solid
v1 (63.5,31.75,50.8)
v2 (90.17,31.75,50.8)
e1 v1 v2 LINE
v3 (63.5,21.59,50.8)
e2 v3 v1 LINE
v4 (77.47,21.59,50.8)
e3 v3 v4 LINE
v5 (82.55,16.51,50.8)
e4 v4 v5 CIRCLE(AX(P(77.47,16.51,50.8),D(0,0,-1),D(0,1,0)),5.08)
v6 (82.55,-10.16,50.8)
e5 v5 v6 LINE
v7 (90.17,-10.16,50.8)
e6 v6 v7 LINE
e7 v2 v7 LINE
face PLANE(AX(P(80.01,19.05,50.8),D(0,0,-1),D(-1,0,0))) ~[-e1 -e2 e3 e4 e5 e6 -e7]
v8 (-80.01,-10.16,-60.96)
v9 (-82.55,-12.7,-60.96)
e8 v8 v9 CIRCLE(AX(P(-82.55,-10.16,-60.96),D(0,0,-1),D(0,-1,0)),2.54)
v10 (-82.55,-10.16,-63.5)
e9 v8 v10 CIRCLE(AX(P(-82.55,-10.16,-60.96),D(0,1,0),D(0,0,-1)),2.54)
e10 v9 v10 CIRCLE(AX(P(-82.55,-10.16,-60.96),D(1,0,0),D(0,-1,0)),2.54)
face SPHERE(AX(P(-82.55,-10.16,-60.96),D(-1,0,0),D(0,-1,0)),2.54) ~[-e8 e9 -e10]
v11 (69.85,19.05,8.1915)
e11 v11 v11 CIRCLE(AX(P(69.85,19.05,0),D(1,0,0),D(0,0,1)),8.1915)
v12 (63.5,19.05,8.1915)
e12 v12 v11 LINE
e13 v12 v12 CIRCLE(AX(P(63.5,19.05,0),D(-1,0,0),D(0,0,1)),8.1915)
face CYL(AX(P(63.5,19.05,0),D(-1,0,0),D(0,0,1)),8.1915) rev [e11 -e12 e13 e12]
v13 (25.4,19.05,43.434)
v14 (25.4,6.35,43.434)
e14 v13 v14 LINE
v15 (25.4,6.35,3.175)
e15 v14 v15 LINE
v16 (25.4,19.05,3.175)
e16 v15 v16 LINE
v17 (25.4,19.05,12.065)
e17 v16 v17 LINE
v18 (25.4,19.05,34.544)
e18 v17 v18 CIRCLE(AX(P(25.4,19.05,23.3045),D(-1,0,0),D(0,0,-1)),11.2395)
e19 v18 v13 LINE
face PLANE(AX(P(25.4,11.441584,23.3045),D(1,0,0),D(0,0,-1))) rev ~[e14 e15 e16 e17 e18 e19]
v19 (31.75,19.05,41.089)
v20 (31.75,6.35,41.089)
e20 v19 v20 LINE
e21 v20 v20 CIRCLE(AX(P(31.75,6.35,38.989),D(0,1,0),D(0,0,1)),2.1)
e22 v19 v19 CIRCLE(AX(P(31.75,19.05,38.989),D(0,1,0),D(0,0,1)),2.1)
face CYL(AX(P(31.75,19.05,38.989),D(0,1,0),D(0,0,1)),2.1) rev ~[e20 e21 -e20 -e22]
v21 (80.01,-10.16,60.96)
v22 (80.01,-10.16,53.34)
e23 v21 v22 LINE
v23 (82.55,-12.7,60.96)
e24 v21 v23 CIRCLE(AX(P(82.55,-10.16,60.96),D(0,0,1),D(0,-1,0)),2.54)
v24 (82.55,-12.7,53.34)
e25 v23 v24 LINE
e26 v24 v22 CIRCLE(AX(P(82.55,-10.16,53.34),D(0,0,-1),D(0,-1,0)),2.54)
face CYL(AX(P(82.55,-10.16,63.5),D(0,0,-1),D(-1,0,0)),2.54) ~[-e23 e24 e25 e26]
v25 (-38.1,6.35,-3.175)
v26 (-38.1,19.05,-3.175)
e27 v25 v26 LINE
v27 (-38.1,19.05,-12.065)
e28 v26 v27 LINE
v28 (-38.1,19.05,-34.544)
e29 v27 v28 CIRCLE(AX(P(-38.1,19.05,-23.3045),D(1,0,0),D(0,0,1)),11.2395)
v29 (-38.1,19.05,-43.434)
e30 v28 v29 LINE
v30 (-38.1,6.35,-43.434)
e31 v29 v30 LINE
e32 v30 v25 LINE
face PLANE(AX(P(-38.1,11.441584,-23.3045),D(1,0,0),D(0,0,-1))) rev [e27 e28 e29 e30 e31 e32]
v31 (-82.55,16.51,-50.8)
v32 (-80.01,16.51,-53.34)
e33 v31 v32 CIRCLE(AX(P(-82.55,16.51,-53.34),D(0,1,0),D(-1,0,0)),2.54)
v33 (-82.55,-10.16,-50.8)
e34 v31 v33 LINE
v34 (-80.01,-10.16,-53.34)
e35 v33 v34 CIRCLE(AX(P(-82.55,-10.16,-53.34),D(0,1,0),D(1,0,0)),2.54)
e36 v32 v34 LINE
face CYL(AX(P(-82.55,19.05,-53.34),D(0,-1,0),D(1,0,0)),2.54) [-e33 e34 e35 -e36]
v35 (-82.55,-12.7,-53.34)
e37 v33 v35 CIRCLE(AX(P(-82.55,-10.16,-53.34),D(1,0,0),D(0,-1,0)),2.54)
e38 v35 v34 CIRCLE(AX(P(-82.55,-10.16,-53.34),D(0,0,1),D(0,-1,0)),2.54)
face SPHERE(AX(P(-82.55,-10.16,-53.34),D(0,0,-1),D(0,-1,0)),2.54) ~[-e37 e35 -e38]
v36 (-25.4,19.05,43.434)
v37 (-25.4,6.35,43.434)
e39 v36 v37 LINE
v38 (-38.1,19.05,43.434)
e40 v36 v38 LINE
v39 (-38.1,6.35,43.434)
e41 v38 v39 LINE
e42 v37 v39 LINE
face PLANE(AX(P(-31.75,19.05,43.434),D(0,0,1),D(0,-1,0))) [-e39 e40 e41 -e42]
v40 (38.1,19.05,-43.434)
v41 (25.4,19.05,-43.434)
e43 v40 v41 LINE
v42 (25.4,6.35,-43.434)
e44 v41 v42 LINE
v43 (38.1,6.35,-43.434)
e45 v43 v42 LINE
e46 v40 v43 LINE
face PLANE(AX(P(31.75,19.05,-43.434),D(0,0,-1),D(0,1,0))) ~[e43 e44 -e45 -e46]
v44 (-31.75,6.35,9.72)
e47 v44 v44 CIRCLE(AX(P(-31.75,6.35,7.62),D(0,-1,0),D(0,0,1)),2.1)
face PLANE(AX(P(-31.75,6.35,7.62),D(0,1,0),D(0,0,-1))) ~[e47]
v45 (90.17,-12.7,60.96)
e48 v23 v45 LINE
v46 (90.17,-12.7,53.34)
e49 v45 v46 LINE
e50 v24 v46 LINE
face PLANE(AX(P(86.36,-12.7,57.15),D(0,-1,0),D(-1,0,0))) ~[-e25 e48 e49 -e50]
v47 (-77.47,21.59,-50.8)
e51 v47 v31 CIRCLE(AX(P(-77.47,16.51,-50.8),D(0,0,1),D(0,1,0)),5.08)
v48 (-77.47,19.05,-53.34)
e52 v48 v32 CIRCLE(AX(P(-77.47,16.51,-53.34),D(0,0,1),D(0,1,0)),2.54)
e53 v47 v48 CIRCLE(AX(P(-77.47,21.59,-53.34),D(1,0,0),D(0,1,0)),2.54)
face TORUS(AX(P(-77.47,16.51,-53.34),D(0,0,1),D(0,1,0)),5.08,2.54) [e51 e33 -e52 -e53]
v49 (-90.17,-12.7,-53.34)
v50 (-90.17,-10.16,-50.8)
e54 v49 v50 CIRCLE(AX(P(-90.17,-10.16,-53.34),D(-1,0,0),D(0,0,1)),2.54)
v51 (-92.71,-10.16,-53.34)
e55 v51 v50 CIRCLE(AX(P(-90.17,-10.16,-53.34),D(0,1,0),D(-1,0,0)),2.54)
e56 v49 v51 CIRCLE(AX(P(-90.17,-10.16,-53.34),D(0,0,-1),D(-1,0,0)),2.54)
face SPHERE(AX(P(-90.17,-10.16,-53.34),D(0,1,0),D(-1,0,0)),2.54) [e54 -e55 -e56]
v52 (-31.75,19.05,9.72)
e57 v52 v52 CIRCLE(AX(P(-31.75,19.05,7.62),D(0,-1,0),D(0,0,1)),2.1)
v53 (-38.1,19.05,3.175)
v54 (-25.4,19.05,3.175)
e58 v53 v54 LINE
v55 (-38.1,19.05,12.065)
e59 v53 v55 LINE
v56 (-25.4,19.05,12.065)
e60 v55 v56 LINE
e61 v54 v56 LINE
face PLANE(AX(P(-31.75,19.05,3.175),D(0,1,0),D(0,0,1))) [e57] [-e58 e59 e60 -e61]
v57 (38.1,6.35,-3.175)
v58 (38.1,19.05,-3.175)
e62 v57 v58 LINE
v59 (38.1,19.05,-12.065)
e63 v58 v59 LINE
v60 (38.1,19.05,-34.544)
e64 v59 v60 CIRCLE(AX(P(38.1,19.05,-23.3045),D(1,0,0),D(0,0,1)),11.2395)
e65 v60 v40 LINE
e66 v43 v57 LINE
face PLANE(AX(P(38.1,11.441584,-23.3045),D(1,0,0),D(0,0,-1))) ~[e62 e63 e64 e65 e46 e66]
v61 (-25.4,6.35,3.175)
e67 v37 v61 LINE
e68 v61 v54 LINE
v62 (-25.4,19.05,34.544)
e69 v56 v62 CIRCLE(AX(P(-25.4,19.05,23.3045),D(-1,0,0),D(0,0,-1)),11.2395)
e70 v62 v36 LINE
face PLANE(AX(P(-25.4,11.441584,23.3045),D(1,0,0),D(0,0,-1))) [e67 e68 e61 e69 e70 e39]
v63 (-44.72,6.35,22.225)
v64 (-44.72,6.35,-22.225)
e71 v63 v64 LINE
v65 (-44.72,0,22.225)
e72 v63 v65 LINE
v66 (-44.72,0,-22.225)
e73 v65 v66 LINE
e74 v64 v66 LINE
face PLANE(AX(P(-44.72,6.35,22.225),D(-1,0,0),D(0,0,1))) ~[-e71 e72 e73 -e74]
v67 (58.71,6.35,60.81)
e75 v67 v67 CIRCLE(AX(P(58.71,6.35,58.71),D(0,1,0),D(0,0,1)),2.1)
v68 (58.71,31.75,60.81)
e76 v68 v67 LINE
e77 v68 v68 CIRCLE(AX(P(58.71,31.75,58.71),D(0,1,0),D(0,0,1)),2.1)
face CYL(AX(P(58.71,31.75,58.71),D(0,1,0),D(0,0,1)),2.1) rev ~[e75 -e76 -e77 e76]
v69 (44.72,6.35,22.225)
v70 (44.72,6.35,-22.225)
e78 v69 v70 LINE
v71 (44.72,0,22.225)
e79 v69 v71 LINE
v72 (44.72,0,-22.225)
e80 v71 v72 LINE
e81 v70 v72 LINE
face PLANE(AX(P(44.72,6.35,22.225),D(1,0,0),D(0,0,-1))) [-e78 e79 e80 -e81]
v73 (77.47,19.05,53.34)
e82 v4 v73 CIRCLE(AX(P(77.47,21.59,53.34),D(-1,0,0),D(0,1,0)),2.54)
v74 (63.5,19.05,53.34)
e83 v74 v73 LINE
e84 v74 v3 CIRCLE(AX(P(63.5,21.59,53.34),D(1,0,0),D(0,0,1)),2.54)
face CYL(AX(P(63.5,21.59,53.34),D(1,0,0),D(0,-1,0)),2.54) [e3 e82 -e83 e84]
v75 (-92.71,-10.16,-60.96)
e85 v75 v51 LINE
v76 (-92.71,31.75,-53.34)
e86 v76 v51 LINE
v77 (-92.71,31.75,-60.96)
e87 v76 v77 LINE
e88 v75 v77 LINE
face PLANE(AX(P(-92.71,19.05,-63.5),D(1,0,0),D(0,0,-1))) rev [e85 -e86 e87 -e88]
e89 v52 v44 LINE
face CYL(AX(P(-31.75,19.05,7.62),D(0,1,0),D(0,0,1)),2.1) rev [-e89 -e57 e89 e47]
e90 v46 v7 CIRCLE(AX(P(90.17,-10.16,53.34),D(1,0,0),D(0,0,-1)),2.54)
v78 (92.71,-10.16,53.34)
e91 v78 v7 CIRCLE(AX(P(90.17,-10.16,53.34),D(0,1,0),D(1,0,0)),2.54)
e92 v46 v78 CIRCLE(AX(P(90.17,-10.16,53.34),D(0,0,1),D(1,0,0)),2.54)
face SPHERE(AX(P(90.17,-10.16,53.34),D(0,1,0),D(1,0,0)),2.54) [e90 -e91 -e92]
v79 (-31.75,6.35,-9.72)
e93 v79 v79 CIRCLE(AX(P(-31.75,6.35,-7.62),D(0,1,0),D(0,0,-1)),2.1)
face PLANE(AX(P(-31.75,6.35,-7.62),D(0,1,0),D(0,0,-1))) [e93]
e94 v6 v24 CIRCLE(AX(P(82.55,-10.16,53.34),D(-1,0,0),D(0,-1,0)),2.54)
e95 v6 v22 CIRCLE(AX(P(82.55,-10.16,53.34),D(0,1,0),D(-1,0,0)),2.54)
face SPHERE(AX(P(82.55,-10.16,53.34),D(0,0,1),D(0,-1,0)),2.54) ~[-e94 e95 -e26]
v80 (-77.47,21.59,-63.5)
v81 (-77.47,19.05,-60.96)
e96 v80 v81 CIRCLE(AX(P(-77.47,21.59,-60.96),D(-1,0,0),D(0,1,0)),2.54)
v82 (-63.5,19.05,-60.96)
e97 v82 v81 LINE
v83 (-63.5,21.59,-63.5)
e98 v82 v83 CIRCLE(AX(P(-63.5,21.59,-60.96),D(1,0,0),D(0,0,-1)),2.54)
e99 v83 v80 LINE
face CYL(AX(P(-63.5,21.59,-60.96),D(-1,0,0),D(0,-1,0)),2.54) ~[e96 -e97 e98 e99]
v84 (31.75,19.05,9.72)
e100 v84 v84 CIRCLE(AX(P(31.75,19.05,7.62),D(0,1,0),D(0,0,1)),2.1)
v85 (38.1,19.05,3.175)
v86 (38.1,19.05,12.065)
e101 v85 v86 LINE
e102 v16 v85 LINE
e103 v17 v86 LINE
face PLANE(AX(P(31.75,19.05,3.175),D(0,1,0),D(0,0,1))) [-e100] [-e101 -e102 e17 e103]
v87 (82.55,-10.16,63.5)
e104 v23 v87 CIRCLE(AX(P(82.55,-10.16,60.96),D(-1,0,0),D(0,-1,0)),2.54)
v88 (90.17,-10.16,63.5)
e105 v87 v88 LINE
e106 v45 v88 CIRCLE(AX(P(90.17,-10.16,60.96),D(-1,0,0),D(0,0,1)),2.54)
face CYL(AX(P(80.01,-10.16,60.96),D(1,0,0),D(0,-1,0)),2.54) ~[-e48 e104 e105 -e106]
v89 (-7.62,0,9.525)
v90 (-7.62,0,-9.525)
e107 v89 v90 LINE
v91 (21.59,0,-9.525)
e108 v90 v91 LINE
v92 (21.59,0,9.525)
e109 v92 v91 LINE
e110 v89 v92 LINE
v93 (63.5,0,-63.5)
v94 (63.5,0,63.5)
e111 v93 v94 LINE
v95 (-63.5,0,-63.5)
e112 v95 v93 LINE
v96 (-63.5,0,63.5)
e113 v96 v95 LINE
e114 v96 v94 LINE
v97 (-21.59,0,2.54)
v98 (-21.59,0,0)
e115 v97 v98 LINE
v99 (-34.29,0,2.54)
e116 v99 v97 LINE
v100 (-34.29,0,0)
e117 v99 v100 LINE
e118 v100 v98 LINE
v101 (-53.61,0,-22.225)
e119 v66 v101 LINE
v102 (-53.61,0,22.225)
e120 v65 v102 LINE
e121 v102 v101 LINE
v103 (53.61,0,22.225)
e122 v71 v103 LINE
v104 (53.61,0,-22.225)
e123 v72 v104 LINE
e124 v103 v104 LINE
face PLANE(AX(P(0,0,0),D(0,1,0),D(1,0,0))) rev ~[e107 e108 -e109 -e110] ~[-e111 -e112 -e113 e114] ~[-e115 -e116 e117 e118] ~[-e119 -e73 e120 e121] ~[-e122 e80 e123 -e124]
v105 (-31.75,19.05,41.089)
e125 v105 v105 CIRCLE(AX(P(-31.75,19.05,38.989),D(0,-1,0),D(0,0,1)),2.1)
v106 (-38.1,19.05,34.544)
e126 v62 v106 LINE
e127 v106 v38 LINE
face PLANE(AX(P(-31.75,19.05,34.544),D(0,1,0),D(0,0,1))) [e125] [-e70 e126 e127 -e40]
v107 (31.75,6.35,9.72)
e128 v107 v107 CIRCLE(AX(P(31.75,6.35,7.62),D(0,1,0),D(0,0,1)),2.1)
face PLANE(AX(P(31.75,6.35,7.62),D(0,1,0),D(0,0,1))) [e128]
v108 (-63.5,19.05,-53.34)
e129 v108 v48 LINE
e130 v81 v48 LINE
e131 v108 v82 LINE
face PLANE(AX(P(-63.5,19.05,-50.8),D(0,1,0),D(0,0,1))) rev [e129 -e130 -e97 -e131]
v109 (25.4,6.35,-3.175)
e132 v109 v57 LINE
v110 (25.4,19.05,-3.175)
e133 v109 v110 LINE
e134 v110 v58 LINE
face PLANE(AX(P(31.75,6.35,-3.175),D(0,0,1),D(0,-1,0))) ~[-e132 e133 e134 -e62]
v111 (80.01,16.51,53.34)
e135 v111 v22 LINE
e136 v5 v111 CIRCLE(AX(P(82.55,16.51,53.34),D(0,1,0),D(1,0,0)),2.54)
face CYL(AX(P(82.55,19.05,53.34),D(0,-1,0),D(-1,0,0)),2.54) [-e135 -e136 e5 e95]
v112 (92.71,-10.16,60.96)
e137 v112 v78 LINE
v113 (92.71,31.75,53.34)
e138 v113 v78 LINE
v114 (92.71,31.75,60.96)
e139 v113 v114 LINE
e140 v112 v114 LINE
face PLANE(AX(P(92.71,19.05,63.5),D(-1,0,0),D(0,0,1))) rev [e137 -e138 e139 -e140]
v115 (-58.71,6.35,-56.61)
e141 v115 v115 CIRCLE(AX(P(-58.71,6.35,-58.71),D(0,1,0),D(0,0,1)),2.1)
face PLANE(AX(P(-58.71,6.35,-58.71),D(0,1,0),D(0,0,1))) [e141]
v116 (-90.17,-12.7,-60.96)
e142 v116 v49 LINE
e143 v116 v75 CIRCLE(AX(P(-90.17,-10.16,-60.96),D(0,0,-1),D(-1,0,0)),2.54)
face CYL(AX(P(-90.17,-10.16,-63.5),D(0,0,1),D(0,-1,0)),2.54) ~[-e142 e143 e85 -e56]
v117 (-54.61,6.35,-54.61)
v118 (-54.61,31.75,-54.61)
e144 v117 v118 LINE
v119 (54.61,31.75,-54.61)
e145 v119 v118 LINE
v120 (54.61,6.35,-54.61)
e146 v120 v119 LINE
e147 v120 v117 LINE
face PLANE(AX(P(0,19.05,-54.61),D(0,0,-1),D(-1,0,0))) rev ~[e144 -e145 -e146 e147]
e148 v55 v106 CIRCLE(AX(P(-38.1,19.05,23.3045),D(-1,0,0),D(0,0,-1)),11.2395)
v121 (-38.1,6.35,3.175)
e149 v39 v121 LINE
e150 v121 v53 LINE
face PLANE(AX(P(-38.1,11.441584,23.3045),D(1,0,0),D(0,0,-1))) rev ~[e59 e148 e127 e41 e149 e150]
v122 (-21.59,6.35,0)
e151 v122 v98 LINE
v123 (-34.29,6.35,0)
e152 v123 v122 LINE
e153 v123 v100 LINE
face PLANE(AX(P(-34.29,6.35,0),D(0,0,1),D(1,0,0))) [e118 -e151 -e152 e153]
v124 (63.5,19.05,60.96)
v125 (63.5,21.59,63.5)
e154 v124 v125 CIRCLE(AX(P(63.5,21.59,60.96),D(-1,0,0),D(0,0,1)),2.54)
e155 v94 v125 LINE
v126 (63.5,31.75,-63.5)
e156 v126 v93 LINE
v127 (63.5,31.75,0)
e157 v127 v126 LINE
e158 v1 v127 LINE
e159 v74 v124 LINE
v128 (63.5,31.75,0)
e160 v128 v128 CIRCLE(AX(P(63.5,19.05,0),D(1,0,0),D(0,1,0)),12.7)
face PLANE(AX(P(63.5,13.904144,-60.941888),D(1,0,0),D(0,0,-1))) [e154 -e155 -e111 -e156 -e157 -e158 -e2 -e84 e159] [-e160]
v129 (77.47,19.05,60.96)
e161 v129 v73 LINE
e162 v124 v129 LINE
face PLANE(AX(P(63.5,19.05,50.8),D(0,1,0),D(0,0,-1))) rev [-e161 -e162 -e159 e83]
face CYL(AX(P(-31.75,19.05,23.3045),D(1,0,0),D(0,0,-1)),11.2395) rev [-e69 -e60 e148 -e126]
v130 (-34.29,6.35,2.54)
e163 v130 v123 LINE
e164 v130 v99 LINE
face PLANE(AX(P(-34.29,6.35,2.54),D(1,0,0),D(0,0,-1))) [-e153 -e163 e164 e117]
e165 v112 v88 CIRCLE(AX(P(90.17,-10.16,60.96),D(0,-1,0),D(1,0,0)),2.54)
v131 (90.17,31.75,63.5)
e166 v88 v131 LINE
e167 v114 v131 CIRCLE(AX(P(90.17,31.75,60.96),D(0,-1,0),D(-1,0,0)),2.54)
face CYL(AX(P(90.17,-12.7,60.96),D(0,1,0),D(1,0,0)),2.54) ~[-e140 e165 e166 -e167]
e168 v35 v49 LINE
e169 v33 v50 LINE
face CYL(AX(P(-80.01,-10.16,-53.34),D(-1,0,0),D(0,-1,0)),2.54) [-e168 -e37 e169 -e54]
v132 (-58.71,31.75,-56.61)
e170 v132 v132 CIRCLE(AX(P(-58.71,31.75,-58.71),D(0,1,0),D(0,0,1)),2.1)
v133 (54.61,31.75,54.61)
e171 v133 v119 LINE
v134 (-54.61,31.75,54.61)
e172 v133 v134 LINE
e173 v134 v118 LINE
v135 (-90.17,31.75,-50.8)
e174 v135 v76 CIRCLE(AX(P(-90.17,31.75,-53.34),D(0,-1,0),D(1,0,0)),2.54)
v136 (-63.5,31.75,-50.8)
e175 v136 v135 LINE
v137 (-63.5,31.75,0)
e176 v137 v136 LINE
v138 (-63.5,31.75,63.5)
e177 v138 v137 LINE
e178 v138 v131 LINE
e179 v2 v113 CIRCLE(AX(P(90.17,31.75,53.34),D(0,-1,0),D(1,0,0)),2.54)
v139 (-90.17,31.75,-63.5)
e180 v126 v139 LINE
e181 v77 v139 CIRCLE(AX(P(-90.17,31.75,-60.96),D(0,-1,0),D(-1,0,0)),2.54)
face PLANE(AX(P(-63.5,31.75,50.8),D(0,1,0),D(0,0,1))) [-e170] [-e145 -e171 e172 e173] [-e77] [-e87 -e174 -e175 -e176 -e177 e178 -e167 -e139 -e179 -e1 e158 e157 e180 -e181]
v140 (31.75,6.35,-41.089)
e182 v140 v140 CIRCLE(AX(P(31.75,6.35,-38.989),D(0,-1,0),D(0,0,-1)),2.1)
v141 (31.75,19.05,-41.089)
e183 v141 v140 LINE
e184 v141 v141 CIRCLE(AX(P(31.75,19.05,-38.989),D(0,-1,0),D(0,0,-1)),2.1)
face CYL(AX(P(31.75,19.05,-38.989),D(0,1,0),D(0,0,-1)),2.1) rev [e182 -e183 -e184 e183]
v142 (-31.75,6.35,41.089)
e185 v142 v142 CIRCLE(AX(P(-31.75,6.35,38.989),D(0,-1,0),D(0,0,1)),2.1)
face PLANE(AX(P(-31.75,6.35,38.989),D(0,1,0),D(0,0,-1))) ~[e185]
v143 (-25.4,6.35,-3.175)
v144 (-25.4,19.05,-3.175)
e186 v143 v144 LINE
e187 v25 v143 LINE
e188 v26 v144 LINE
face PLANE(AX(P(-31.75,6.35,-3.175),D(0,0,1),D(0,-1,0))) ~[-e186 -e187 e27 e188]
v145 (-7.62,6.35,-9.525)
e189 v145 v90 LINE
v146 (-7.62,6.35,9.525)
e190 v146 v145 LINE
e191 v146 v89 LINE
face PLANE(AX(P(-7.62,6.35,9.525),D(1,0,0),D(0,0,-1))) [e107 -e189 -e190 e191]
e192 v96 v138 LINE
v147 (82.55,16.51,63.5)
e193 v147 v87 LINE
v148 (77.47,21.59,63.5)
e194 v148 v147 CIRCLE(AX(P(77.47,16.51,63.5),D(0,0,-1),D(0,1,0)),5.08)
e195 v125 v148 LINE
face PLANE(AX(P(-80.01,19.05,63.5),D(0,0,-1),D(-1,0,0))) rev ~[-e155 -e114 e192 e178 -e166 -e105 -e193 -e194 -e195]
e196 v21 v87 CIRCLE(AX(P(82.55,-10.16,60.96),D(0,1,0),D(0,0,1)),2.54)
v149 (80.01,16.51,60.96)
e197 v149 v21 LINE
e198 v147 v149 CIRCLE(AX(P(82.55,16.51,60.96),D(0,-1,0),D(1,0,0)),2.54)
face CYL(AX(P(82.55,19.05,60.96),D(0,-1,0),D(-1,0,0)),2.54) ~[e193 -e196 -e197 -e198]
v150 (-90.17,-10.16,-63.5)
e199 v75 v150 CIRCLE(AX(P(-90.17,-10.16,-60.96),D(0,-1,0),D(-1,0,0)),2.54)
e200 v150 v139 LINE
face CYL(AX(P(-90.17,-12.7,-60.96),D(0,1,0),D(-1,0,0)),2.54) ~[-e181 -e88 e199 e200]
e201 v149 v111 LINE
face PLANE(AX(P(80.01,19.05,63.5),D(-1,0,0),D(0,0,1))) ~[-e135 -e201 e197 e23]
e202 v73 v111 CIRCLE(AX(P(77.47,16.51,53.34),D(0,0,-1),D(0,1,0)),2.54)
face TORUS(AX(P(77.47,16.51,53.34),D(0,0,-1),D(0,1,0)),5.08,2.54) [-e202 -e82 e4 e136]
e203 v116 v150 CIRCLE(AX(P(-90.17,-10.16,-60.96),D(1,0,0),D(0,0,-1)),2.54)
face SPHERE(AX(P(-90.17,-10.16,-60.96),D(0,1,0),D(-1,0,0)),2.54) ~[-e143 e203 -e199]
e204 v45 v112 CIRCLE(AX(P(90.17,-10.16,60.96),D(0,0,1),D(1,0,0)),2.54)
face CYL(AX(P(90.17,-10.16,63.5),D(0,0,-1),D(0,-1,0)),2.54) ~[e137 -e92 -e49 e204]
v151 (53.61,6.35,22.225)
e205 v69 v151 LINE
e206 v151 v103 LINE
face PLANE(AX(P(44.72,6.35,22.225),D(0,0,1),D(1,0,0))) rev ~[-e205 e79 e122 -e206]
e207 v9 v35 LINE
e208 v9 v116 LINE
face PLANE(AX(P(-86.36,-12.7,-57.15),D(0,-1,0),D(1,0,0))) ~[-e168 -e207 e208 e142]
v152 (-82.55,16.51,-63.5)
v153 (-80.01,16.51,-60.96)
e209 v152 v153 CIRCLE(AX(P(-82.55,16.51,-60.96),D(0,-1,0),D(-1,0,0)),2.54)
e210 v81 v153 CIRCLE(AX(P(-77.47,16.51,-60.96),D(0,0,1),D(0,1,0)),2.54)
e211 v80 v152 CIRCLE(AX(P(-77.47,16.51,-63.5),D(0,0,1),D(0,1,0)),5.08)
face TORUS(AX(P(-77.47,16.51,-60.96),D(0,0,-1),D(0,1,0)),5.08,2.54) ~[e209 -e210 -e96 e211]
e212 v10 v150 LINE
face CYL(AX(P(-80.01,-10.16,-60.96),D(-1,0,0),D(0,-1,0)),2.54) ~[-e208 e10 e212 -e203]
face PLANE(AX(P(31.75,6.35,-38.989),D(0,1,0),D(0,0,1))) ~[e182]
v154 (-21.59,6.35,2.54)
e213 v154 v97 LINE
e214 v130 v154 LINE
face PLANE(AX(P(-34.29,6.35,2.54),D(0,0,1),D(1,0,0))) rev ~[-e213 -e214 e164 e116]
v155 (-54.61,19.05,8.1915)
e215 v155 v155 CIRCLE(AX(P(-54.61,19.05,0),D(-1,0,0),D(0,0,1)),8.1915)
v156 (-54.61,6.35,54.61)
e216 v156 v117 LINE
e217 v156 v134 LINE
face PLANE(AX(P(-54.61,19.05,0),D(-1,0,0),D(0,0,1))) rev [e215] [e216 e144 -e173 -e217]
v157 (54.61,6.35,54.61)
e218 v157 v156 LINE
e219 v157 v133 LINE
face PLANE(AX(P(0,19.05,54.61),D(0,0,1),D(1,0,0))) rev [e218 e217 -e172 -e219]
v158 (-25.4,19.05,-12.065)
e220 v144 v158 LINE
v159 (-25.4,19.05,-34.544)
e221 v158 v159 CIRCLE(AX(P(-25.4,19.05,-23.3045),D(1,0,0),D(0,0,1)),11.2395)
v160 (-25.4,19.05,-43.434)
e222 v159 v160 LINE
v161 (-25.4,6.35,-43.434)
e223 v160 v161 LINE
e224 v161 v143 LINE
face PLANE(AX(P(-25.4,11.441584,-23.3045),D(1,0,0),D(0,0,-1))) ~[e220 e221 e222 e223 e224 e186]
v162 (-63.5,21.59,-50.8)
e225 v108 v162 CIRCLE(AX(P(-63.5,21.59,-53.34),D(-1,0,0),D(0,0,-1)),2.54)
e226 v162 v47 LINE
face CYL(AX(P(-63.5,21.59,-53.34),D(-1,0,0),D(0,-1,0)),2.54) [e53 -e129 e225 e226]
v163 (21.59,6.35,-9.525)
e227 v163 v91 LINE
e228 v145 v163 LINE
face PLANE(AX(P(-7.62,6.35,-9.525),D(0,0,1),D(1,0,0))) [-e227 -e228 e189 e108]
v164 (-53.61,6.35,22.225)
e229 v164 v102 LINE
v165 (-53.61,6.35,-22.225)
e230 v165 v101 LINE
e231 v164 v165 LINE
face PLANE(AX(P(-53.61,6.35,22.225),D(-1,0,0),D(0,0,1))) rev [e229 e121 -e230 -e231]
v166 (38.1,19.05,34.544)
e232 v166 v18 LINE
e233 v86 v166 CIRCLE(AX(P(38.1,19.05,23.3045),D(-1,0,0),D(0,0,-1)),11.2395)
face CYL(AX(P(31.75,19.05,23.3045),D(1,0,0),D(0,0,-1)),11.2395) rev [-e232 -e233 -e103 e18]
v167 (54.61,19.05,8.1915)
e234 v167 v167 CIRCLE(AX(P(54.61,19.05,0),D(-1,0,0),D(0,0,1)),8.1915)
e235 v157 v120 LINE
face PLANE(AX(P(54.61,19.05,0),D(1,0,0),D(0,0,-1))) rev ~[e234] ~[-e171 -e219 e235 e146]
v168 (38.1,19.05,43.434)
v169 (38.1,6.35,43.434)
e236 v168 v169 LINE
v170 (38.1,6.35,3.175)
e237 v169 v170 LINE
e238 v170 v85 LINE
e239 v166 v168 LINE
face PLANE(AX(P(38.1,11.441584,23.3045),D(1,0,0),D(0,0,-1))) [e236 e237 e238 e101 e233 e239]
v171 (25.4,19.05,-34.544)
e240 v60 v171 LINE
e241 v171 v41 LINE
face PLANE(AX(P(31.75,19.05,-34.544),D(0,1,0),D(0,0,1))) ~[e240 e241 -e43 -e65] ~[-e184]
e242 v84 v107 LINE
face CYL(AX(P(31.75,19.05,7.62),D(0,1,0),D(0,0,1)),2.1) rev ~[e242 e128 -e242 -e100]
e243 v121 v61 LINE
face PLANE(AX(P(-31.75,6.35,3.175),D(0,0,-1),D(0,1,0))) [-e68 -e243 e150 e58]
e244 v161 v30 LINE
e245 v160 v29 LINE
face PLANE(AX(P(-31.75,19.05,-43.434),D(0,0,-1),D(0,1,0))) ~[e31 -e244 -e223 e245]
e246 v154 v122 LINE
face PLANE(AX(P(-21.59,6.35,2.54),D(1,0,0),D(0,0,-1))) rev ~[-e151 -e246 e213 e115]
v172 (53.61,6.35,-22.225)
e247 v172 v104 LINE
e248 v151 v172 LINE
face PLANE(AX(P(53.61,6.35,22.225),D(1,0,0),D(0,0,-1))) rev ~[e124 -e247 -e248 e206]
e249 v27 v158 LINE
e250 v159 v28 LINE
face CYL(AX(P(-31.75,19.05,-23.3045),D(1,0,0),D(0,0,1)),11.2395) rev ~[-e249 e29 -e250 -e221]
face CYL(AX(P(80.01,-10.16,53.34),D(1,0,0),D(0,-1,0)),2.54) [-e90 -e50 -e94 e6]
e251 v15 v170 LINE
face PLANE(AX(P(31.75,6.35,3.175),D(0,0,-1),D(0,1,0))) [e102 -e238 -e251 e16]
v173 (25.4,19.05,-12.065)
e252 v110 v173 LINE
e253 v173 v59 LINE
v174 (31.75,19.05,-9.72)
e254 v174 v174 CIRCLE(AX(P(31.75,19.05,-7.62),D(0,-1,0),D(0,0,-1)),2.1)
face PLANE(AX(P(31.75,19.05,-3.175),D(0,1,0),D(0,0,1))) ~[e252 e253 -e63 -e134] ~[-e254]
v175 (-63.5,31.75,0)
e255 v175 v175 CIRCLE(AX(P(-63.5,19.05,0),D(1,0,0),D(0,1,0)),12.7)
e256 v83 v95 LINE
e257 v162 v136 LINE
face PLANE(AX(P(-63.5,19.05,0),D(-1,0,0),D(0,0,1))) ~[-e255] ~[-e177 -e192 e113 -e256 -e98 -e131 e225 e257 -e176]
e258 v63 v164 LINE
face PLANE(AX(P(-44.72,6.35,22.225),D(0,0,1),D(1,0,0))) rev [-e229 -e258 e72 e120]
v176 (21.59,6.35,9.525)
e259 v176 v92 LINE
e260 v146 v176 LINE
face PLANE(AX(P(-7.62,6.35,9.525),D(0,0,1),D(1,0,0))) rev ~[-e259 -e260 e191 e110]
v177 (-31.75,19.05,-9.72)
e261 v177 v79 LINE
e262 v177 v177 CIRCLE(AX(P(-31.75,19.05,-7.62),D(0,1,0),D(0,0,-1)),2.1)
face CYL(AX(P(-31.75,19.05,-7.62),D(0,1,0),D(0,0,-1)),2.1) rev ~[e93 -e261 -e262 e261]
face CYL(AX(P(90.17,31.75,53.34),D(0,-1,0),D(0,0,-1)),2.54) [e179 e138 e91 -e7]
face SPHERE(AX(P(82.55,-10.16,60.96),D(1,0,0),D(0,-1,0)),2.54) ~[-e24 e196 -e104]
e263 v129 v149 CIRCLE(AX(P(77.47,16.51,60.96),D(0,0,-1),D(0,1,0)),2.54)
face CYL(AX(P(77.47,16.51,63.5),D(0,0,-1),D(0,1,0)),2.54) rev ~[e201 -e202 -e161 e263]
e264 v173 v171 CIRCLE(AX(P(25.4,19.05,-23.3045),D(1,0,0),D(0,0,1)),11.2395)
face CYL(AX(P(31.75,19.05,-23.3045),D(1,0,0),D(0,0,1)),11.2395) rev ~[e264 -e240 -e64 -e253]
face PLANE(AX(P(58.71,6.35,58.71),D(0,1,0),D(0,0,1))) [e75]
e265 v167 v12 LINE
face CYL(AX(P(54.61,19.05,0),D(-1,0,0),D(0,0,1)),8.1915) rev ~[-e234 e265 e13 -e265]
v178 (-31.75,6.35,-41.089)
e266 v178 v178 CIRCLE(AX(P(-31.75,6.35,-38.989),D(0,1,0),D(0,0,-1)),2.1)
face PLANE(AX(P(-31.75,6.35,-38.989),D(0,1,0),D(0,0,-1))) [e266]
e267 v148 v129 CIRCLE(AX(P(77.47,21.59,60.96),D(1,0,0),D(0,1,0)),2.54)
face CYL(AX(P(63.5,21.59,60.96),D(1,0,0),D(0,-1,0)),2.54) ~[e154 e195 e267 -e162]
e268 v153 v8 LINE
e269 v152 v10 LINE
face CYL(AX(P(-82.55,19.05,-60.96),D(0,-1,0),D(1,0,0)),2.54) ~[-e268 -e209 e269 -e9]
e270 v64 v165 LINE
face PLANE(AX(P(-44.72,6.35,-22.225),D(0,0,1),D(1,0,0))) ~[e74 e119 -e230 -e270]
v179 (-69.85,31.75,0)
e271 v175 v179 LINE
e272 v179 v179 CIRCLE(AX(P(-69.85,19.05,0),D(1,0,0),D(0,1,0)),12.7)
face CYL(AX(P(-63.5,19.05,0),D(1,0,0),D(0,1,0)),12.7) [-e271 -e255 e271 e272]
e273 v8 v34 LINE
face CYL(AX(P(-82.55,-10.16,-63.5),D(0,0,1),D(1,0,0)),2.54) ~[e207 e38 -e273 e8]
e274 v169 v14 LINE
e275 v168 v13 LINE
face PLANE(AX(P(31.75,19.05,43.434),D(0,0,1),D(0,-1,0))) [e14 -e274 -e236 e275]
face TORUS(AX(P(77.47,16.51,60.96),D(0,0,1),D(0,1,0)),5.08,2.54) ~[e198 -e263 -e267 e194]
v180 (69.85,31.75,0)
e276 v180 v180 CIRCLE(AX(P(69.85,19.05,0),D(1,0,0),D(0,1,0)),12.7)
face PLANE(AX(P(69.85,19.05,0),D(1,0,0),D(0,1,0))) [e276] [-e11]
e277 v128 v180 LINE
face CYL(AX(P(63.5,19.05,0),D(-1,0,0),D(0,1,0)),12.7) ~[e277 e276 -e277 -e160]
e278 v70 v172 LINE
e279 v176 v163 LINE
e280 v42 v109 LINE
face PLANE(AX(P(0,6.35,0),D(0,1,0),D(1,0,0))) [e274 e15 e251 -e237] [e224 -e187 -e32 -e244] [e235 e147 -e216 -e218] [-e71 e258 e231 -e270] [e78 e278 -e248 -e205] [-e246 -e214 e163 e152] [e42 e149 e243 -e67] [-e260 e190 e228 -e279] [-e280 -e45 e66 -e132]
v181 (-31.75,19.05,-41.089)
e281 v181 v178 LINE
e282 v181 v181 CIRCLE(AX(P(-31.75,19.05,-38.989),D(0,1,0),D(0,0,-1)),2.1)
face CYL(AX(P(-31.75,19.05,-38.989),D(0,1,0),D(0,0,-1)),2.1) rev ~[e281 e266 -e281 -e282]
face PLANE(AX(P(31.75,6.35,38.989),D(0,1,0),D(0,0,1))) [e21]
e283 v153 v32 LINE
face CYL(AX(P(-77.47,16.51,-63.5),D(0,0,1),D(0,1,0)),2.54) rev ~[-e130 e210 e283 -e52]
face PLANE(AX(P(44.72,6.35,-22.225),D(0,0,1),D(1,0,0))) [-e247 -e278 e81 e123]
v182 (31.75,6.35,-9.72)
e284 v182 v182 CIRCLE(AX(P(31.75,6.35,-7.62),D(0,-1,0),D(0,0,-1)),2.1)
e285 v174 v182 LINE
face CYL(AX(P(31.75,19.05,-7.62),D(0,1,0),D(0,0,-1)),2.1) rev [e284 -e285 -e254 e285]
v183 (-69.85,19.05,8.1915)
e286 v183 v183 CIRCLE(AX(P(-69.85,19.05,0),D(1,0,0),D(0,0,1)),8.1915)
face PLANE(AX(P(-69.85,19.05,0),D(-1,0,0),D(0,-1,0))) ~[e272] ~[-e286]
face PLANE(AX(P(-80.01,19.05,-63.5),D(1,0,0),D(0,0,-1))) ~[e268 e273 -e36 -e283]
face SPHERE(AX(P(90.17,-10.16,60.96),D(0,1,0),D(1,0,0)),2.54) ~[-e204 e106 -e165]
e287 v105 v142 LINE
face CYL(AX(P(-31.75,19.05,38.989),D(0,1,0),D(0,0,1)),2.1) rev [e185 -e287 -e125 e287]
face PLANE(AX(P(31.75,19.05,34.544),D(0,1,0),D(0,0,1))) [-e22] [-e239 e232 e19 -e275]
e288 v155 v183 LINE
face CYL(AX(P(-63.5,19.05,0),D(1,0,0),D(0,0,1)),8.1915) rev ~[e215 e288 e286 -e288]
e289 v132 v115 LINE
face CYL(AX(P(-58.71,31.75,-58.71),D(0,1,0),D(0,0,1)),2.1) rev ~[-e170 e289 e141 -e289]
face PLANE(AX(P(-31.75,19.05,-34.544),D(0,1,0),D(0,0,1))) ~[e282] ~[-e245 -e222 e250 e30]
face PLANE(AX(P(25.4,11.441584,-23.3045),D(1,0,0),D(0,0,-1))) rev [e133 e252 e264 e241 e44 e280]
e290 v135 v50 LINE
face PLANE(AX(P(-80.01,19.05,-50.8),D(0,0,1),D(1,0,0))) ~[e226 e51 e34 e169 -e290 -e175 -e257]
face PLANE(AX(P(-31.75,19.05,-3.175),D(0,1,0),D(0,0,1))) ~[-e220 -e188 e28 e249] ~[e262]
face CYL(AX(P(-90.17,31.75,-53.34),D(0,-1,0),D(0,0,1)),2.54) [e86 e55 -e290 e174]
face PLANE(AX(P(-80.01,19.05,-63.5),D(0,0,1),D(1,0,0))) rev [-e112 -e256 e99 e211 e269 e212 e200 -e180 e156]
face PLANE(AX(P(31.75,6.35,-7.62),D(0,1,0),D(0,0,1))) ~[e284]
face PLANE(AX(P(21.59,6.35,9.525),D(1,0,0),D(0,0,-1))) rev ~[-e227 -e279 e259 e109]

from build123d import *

# Parameters (mm, degrees)
SKETCH1_W               = 127
SKETCH1_H               = 127
BOSS_EXTRUDE1_DEPTH     = 6.35
BOSS_EXTRUDE2_DEPTH     = 6.35
BOSS_EXTRUDE3_DEPTH     = 6.35
SKETCH6_W               = 127
SKETCH6_H               = 25.4
BOSS_EXTRUDE4_DEPTH     = 8.89
SKETCH7_R               = 8.1915
CUT_EXTRUDE1_DEPTH      = 8.89
SKETCH8_W               = 109.22
SKETCH8_H               = 25.4
BOSS_EXTRUDE5_DEPTH     = 8.89
SKETCH9_W               = 12.7
SKETCH9_H               = 12.7
BOSS_EXTRUDE6_DEPTH     = 29.21
SKETCH10_W              = 12.7
SKETCH10_H              = 12.7
BOSS_EXTRUDE7_DEPTH     = 31.75
MIRROR5_COPY_1_SKETCH_W = 12.7
MIRROR5_COPY_1_SKETCH_H = 12.7
MIRROR5_COPY_1_DEPTH    = 29.21
MIRROR5_COPY_2_SKETCH_W = 12.7
MIRROR5_COPY_2_SKETCH_H = 12.7
MIRROR5_COPY_2_DEPTH    = 31.75
FILLET1_R               = 2.54
SKETCH11_W              = 29.21
SKETCH11_H              = 19.05
CUT_EXTRUDE2_DEPTH      = 6.35
SKETCH12_R              = 12.7
SKETCH12_R_2            = 8.1915
BOSS_EXTRUDE8_DEPTH     = 6.35
SKETCH13_R              = 2.1
CUT_EXTRUDE3_DEPTH      = 12.7
MIRROR8_COPY_1_SKETCH_R = 2.1
MIRROR8_COPY_1_DEPTH    = 12.7
SKETCH14_R              = 2.1
CUT_EXTRUDE4_DEPTH      = 25.4
SKETCH15_W              = 8.89
SKETCH15_H              = 44.45
CUT_EXTRUDE5_DEPTH      = 6.35
SKETCH16_W              = 12.7
SKETCH16_H              = 2.54
CUT_EXTRUDE6_DEPTH      = 6.35
CUT_EXTRUDE7_REACH      = 173.586
SKETCH18_W              = 50.530596201
SKETCH18_H              = 73.67869055
SKETCH19_W              = 46.387649415
SKETCH19_H              = 80.970556506
CUT_EXTRUDE8_DEPTH      = 29.21


with BuildPart() as part:
    # Sketch1 → Boss-Extrude1 (new body)
    with BuildSketch(Plane(origin=(0, 0, 0), x_dir=(1, 0, 0), z_dir=(0, 1, 0))):
        Rectangle(SKETCH1_W, SKETCH1_H)
    extrude(amount=BOSS_EXTRUDE1_DEPTH)

    # Sketch3 → Boss-Extrude2 (add, symmetric)
    with BuildSketch(Plane(origin=(31.75, 0, 0), x_dir=(0, 0, -1), z_dir=(1, 0, 0))):
        with BuildLine():
            Line((-43.434, 6.35), (-3.175, 6.35))
            Line((-3.175, 6.35), (-3.175, 19.05))
            Line((-3.175, 19.05), (-12.065, 19.05))
            ThreePointArc((-12.065, 19.05), (-23.3045, 7.8105), (-34.544, 19.05))
            Line((-34.544, 19.05), (-43.434, 19.05))
            Line((-43.434, 19.05), (-43.434, 6.35))
        make_face()
    boss_extrude2 = extrude(amount=BOSS_EXTRUDE2_DEPTH, both=True)

    # Sketch5 → Boss-Extrude3 (add, symmetric)
    with BuildSketch(Plane(origin=(-31.75, 0, 0), x_dir=(0, 0, -1), z_dir=(1, 0, 0))):
        with BuildLine():
            Line((-43.434, 6.35), (-3.175, 6.35))
            Line((-3.175, 6.35), (-3.175, 19.05))
            Line((-3.175, 19.05), (-12.065, 19.05))
            ThreePointArc((-12.065, 19.05), (-23.3045, 7.8105), (-34.544, 19.05))
            Line((-34.544, 19.05), (-43.434, 19.05))
            Line((-43.434, 19.05), (-43.434, 6.35))
        make_face()
    boss_extrude3 = extrude(amount=BOSS_EXTRUDE3_DEPTH, both=True)

    # Mirror1: Boss-Extrude2, Boss-Extrude3 across plane
    add(boss_extrude2.mirror(Plane.XY))
    add(boss_extrude3.mirror(Plane.XY))

    # Sketch6 → Boss-Extrude4 (add)
    with BuildSketch(Plane(origin=(63.5, 0, 0), x_dir=(0, 0, -1), z_dir=(1, 0, 0))):
        with Locations((0, 19.05)):
            Rectangle(SKETCH6_W, SKETCH6_H)
    boss_extrude4 = extrude(amount=-BOSS_EXTRUDE4_DEPTH)

    # Sketch7 → Cut-Extrude1 (cut)
    with BuildSketch(Plane.ZY.offset(-54.61)):
        with Locations((0, 19.05)):
            Circle(SKETCH7_R)
    cut_extrude1 = extrude(amount=-CUT_EXTRUDE1_DEPTH, mode=Mode.SUBTRACT)

    # Mirror2: Boss-Extrude4, Cut-Extrude1 across plane
    add(boss_extrude4.mirror(Plane(origin=(0, 0, 0), x_dir=(0, 0, 1), z_dir=(1, 0, 0))))
    add(cut_extrude1.mirror(Plane(origin=(0, 0, 0), x_dir=(0, 0, 1), z_dir=(1, 0, 0))), mode=Mode.SUBTRACT)

    # Sketch8 → Boss-Extrude5 (add)
    with BuildSketch(Plane(origin=(0, 0, -63.5), x_dir=(-1, 0, 0), z_dir=(0, 0, -1))):
        with Locations((0, 19.05)):
            Rectangle(SKETCH8_W, SKETCH8_H)
    boss_extrude5 = extrude(amount=-BOSS_EXTRUDE5_DEPTH)

    # Mirror3: Boss-Extrude5 across plane
    add(boss_extrude5.mirror(Plane.XY))

    # Sketch9 → Boss-Extrude6 (add)
    with BuildSketch(Plane(origin=(63.5, 0, 0), x_dir=(0, 0, -1), z_dir=(1, 0, 0))):
        with Locations((57.15, 25.4)):
            Rectangle(SKETCH9_W, SKETCH9_H)
    boss_extrude6 = extrude(amount=BOSS_EXTRUDE6_DEPTH)

    # Sketch10 → Boss-Extrude7 (add)
    with BuildSketch(Plane.XZ.offset(-19.05)):
        with Locations((86.36, -57.15)):
            Rectangle(SKETCH10_W, SKETCH10_H)
    boss_extrude7 = extrude(amount=BOSS_EXTRUDE7_DEPTH)

    # Mirror4: Boss-Extrude6, Boss-Extrude7 across plane
    add(boss_extrude6.mirror(Plane.XY))
    add(boss_extrude7.mirror(Plane.XY))

    # Mirror5: Boss-Extrude6, Boss-Extrude7 across plane
    add(boss_extrude6.mirror(Plane(origin=(0, 0, 0), x_dir=(0, 0, 1), z_dir=(1, 0, 0))))
    add(boss_extrude7.mirror(Plane(origin=(0, 0, 0), x_dir=(0, 0, 1), z_dir=(1, 0, 0))))

    # Mirror5 copy 1 sketch → Mirror5 copy 1 (add)
    with BuildSketch(Plane.ZY.offset(63.5)):
        with Locations((57.15, 25.4)):
            Rectangle(MIRROR5_COPY_1_SKETCH_W, MIRROR5_COPY_1_SKETCH_H)
    extrude(amount=MIRROR5_COPY_1_DEPTH)

    # Mirror5 copy 2 sketch → Mirror5 copy 2 (add)
    with BuildSketch(Plane(origin=(0, 19.05, 0), x_dir=(-1, 0, 0), z_dir=(0, -1, 0))):
        with Locations((86.36, -57.15)):
            Rectangle(MIRROR5_COPY_2_SKETCH_W, MIRROR5_COPY_2_SKETCH_H)
    extrude(amount=MIRROR5_COPY_2_DEPTH)

    # Fillet1
    fillet1_edges = [part.edges().sort_by_distance(p)[0] for p in [
        (92.71, 9.525, -63.5),
        (92.71, 9.525, -50.8),
        (71.755, 19.05, -63.5),
        (71.755, 19.05, -50.8),
        (80.01, 19.05, -57.15),
        (80.01, 3.175, -50.8),
        (80.01, 3.175, -63.5),
        (92.71, -12.7, -57.15),
        (86.36, -12.7, -50.8),
        (80.01, -12.7, -57.15),
        (86.36, -12.7, -63.5),
        (92.71, 9.525, 63.5),
        (92.71, 9.525, 50.8),
        (71.755, 19.05, 50.8),
        (71.755, 19.05, 63.5),
        (92.71, -12.7, 57.15),
        (86.36, -12.7, 63.5),
        (80.01, -12.7, 57.15),
        (80.01, 3.175, 63.5),
        (86.36, -12.7, 50.8),
        (80.01, 3.175, 50.8),
        (80.01, 19.05, 57.15),
        (-92.71, 9.525, -63.5),
        (-92.71, 9.525, -50.8),
        (-71.755, 19.05, -50.8),
        (-71.755, 19.05, -63.5),
        (-92.71, -12.7, -57.15),
        (-86.36, -12.7, -63.5),
        (-80.01, -12.7, -57.15),
        (-80.01, 3.175, -63.5),
        (-86.36, -12.7, -50.8),
        (-80.01, 3.175, -50.8),
        (-80.01, 19.05, -57.15),
        (-92.71, 9.525, 63.5),
        (-92.71, 9.525, 50.8),
        (-71.755, 19.05, 63.5),
        (-71.755, 19.05, 50.8),
        (-80.01, 19.05, 57.15),
        (-80.01, 3.175, 50.8),
        (-80.01, 3.175, 63.5),
        (-92.71, -12.7, 57.15),
        (-86.36, -12.7, 50.8),
        (-80.01, -12.7, 57.15),
        (-86.36, -12.7, 63.5),
    ]]
    fillet(fillet1_edges, radius=FILLET1_R)

    # Sketch11 → Cut-Extrude2 (cut)
    with BuildSketch(Plane(origin=(0, 6.35, 0), x_dir=(1, 0, 0), z_dir=(0, 1, 0))):
        with Locations((6.985, 0)):
            Rectangle(SKETCH11_W, SKETCH11_H)
    extrude(amount=-CUT_EXTRUDE2_DEPTH, mode=Mode.SUBTRACT)

    # Sketch12 → Boss-Extrude8 (add)
    with BuildSketch(Plane(origin=(63.5, 0, 0), x_dir=(0, 0, -1), z_dir=(1, 0, 0))):
        with Locations(Location((0, 19.05, 0), (0, 0, 90))):
            Circle(SKETCH12_R)
        with Locations(Location((0, 19.05, 0), (0, 0, 180))):
            Circle(SKETCH12_R_2, mode=Mode.SUBTRACT)
    boss_extrude8 = extrude(amount=BOSS_EXTRUDE8_DEPTH)

    # Mirror6: Boss-Extrude8 across plane
    add(boss_extrude8.mirror(Plane(origin=(0, 0, 0), x_dir=(0, 0, 1), z_dir=(1, 0, 0))))

    # Sketch13 → Cut-Extrude3 (cut)
    with BuildSketch(Plane(origin=(0, 19.05, 0), x_dir=(1, 0, 0), z_dir=(0, 1, 0))):
        with Locations(Location((31.75, -38.989, 0), (0, 0, 270))):
            Circle(SKETCH13_R)
        with Locations(Location((31.75, -7.62, 0), (0, 0, 270))):
            Circle(SKETCH13_R)
    cut_extrude3 = extrude(amount=-CUT_EXTRUDE3_DEPTH, mode=Mode.SUBTRACT)

    # Mirror7: Cut-Extrude3 across plane
    add(cut_extrude3.mirror(Plane.XY), mode=Mode.SUBTRACT)

    # Mirror8: Cut-Extrude3 across plane
    add(cut_extrude3.mirror(Plane(origin=(0, 0, 0), x_dir=(0, 0, 1), z_dir=(1, 0, 0))), mode=Mode.SUBTRACT)

    # Mirror8 copy 1 sketch → Mirror8 copy 1 (cut)
    with BuildSketch(Plane(origin=(0, 19.05, 0), x_dir=(-1, 0, 0), z_dir=(0, 1, 0))):
        with Locations(Location((31.75, -38.989, 0), (0, 0, 270))):
            Circle(MIRROR8_COPY_1_SKETCH_R)
        with Locations(Location((31.75, -7.62, 0), (0, 0, 270))):
            Circle(MIRROR8_COPY_1_SKETCH_R)
    extrude(amount=-MIRROR8_COPY_1_DEPTH, mode=Mode.SUBTRACT)

    # Sketch14 → Cut-Extrude4 (cut)
    with BuildSketch(Plane(origin=(0, 31.75, 0), x_dir=(1, 0, 0), z_dir=(0, 1, 0))):
        with Locations(Location((-58.71, 58.71, 0), (0, 0, 270))):
            Circle(SKETCH14_R)
        with Locations(Location((58.71, -58.71, 0), (0, 0, 270))):
            Circle(SKETCH14_R)
    extrude(amount=-CUT_EXTRUDE4_DEPTH, mode=Mode.SUBTRACT)

    # Sketch15 → Cut-Extrude5 (cut)
    with BuildSketch(Plane(origin=(0, 6.35, 0), x_dir=(1, 0, 0), z_dir=(0, 1, 0))):
        with Locations((49.165, 0)):
            Rectangle(SKETCH15_W, SKETCH15_H)
    cut_extrude5 = extrude(amount=-CUT_EXTRUDE5_DEPTH, mode=Mode.SUBTRACT)

    # Mirror9: Cut-Extrude5 across plane
    add(cut_extrude5.mirror(Plane(origin=(0, 0, 0), x_dir=(0, 0, 1), z_dir=(1, 0, 0))), mode=Mode.SUBTRACT)

    # Sketch16 → Cut-Extrude6 (cut)
    with BuildSketch(Plane(origin=(0, 6.35, 0), x_dir=(1, 0, 0), z_dir=(0, 1, 0))):
        with Locations((-27.94, -1.27)):
            Rectangle(SKETCH16_W, SKETCH16_H)
    extrude(amount=-CUT_EXTRUDE6_DEPTH, mode=Mode.SUBTRACT)

    # Sketch18 → Cut-Extrude7 (cut, up to next)
    with BuildSketch(Plane.ZY.offset(63.5), mode=Mode.PRIVATE) as cut_extrude7_sk1:
        with Locations((60.834321125, 15.733047456)):
            Rectangle(SKETCH18_W, SKETCH18_H)
    cut_extrude7_tool1 = extrude(cut_extrude7_sk1.sketch, amount=CUT_EXTRUDE7_REACH, mode=Mode.PRIVATE) & part.part
    add(cut_extrude7_tool1.solids().sort_by_distance((-63.5, 15.733047, 60.834321))[0], mode=Mode.SUBTRACT)

    # Sketch19 → Cut-Extrude8 (cut)
    with BuildSketch(Plane(origin=(63.5, 0, 0), x_dir=(0, 0, -1), z_dir=(1, 0, 0))):
        with Locations((60.941888133, 13.904143716)):
            Rectangle(SKETCH19_W, SKETCH19_H)
    extrude(amount=CUT_EXTRUDE8_DEPTH, mode=Mode.SUBTRACT)


solid = part.part
